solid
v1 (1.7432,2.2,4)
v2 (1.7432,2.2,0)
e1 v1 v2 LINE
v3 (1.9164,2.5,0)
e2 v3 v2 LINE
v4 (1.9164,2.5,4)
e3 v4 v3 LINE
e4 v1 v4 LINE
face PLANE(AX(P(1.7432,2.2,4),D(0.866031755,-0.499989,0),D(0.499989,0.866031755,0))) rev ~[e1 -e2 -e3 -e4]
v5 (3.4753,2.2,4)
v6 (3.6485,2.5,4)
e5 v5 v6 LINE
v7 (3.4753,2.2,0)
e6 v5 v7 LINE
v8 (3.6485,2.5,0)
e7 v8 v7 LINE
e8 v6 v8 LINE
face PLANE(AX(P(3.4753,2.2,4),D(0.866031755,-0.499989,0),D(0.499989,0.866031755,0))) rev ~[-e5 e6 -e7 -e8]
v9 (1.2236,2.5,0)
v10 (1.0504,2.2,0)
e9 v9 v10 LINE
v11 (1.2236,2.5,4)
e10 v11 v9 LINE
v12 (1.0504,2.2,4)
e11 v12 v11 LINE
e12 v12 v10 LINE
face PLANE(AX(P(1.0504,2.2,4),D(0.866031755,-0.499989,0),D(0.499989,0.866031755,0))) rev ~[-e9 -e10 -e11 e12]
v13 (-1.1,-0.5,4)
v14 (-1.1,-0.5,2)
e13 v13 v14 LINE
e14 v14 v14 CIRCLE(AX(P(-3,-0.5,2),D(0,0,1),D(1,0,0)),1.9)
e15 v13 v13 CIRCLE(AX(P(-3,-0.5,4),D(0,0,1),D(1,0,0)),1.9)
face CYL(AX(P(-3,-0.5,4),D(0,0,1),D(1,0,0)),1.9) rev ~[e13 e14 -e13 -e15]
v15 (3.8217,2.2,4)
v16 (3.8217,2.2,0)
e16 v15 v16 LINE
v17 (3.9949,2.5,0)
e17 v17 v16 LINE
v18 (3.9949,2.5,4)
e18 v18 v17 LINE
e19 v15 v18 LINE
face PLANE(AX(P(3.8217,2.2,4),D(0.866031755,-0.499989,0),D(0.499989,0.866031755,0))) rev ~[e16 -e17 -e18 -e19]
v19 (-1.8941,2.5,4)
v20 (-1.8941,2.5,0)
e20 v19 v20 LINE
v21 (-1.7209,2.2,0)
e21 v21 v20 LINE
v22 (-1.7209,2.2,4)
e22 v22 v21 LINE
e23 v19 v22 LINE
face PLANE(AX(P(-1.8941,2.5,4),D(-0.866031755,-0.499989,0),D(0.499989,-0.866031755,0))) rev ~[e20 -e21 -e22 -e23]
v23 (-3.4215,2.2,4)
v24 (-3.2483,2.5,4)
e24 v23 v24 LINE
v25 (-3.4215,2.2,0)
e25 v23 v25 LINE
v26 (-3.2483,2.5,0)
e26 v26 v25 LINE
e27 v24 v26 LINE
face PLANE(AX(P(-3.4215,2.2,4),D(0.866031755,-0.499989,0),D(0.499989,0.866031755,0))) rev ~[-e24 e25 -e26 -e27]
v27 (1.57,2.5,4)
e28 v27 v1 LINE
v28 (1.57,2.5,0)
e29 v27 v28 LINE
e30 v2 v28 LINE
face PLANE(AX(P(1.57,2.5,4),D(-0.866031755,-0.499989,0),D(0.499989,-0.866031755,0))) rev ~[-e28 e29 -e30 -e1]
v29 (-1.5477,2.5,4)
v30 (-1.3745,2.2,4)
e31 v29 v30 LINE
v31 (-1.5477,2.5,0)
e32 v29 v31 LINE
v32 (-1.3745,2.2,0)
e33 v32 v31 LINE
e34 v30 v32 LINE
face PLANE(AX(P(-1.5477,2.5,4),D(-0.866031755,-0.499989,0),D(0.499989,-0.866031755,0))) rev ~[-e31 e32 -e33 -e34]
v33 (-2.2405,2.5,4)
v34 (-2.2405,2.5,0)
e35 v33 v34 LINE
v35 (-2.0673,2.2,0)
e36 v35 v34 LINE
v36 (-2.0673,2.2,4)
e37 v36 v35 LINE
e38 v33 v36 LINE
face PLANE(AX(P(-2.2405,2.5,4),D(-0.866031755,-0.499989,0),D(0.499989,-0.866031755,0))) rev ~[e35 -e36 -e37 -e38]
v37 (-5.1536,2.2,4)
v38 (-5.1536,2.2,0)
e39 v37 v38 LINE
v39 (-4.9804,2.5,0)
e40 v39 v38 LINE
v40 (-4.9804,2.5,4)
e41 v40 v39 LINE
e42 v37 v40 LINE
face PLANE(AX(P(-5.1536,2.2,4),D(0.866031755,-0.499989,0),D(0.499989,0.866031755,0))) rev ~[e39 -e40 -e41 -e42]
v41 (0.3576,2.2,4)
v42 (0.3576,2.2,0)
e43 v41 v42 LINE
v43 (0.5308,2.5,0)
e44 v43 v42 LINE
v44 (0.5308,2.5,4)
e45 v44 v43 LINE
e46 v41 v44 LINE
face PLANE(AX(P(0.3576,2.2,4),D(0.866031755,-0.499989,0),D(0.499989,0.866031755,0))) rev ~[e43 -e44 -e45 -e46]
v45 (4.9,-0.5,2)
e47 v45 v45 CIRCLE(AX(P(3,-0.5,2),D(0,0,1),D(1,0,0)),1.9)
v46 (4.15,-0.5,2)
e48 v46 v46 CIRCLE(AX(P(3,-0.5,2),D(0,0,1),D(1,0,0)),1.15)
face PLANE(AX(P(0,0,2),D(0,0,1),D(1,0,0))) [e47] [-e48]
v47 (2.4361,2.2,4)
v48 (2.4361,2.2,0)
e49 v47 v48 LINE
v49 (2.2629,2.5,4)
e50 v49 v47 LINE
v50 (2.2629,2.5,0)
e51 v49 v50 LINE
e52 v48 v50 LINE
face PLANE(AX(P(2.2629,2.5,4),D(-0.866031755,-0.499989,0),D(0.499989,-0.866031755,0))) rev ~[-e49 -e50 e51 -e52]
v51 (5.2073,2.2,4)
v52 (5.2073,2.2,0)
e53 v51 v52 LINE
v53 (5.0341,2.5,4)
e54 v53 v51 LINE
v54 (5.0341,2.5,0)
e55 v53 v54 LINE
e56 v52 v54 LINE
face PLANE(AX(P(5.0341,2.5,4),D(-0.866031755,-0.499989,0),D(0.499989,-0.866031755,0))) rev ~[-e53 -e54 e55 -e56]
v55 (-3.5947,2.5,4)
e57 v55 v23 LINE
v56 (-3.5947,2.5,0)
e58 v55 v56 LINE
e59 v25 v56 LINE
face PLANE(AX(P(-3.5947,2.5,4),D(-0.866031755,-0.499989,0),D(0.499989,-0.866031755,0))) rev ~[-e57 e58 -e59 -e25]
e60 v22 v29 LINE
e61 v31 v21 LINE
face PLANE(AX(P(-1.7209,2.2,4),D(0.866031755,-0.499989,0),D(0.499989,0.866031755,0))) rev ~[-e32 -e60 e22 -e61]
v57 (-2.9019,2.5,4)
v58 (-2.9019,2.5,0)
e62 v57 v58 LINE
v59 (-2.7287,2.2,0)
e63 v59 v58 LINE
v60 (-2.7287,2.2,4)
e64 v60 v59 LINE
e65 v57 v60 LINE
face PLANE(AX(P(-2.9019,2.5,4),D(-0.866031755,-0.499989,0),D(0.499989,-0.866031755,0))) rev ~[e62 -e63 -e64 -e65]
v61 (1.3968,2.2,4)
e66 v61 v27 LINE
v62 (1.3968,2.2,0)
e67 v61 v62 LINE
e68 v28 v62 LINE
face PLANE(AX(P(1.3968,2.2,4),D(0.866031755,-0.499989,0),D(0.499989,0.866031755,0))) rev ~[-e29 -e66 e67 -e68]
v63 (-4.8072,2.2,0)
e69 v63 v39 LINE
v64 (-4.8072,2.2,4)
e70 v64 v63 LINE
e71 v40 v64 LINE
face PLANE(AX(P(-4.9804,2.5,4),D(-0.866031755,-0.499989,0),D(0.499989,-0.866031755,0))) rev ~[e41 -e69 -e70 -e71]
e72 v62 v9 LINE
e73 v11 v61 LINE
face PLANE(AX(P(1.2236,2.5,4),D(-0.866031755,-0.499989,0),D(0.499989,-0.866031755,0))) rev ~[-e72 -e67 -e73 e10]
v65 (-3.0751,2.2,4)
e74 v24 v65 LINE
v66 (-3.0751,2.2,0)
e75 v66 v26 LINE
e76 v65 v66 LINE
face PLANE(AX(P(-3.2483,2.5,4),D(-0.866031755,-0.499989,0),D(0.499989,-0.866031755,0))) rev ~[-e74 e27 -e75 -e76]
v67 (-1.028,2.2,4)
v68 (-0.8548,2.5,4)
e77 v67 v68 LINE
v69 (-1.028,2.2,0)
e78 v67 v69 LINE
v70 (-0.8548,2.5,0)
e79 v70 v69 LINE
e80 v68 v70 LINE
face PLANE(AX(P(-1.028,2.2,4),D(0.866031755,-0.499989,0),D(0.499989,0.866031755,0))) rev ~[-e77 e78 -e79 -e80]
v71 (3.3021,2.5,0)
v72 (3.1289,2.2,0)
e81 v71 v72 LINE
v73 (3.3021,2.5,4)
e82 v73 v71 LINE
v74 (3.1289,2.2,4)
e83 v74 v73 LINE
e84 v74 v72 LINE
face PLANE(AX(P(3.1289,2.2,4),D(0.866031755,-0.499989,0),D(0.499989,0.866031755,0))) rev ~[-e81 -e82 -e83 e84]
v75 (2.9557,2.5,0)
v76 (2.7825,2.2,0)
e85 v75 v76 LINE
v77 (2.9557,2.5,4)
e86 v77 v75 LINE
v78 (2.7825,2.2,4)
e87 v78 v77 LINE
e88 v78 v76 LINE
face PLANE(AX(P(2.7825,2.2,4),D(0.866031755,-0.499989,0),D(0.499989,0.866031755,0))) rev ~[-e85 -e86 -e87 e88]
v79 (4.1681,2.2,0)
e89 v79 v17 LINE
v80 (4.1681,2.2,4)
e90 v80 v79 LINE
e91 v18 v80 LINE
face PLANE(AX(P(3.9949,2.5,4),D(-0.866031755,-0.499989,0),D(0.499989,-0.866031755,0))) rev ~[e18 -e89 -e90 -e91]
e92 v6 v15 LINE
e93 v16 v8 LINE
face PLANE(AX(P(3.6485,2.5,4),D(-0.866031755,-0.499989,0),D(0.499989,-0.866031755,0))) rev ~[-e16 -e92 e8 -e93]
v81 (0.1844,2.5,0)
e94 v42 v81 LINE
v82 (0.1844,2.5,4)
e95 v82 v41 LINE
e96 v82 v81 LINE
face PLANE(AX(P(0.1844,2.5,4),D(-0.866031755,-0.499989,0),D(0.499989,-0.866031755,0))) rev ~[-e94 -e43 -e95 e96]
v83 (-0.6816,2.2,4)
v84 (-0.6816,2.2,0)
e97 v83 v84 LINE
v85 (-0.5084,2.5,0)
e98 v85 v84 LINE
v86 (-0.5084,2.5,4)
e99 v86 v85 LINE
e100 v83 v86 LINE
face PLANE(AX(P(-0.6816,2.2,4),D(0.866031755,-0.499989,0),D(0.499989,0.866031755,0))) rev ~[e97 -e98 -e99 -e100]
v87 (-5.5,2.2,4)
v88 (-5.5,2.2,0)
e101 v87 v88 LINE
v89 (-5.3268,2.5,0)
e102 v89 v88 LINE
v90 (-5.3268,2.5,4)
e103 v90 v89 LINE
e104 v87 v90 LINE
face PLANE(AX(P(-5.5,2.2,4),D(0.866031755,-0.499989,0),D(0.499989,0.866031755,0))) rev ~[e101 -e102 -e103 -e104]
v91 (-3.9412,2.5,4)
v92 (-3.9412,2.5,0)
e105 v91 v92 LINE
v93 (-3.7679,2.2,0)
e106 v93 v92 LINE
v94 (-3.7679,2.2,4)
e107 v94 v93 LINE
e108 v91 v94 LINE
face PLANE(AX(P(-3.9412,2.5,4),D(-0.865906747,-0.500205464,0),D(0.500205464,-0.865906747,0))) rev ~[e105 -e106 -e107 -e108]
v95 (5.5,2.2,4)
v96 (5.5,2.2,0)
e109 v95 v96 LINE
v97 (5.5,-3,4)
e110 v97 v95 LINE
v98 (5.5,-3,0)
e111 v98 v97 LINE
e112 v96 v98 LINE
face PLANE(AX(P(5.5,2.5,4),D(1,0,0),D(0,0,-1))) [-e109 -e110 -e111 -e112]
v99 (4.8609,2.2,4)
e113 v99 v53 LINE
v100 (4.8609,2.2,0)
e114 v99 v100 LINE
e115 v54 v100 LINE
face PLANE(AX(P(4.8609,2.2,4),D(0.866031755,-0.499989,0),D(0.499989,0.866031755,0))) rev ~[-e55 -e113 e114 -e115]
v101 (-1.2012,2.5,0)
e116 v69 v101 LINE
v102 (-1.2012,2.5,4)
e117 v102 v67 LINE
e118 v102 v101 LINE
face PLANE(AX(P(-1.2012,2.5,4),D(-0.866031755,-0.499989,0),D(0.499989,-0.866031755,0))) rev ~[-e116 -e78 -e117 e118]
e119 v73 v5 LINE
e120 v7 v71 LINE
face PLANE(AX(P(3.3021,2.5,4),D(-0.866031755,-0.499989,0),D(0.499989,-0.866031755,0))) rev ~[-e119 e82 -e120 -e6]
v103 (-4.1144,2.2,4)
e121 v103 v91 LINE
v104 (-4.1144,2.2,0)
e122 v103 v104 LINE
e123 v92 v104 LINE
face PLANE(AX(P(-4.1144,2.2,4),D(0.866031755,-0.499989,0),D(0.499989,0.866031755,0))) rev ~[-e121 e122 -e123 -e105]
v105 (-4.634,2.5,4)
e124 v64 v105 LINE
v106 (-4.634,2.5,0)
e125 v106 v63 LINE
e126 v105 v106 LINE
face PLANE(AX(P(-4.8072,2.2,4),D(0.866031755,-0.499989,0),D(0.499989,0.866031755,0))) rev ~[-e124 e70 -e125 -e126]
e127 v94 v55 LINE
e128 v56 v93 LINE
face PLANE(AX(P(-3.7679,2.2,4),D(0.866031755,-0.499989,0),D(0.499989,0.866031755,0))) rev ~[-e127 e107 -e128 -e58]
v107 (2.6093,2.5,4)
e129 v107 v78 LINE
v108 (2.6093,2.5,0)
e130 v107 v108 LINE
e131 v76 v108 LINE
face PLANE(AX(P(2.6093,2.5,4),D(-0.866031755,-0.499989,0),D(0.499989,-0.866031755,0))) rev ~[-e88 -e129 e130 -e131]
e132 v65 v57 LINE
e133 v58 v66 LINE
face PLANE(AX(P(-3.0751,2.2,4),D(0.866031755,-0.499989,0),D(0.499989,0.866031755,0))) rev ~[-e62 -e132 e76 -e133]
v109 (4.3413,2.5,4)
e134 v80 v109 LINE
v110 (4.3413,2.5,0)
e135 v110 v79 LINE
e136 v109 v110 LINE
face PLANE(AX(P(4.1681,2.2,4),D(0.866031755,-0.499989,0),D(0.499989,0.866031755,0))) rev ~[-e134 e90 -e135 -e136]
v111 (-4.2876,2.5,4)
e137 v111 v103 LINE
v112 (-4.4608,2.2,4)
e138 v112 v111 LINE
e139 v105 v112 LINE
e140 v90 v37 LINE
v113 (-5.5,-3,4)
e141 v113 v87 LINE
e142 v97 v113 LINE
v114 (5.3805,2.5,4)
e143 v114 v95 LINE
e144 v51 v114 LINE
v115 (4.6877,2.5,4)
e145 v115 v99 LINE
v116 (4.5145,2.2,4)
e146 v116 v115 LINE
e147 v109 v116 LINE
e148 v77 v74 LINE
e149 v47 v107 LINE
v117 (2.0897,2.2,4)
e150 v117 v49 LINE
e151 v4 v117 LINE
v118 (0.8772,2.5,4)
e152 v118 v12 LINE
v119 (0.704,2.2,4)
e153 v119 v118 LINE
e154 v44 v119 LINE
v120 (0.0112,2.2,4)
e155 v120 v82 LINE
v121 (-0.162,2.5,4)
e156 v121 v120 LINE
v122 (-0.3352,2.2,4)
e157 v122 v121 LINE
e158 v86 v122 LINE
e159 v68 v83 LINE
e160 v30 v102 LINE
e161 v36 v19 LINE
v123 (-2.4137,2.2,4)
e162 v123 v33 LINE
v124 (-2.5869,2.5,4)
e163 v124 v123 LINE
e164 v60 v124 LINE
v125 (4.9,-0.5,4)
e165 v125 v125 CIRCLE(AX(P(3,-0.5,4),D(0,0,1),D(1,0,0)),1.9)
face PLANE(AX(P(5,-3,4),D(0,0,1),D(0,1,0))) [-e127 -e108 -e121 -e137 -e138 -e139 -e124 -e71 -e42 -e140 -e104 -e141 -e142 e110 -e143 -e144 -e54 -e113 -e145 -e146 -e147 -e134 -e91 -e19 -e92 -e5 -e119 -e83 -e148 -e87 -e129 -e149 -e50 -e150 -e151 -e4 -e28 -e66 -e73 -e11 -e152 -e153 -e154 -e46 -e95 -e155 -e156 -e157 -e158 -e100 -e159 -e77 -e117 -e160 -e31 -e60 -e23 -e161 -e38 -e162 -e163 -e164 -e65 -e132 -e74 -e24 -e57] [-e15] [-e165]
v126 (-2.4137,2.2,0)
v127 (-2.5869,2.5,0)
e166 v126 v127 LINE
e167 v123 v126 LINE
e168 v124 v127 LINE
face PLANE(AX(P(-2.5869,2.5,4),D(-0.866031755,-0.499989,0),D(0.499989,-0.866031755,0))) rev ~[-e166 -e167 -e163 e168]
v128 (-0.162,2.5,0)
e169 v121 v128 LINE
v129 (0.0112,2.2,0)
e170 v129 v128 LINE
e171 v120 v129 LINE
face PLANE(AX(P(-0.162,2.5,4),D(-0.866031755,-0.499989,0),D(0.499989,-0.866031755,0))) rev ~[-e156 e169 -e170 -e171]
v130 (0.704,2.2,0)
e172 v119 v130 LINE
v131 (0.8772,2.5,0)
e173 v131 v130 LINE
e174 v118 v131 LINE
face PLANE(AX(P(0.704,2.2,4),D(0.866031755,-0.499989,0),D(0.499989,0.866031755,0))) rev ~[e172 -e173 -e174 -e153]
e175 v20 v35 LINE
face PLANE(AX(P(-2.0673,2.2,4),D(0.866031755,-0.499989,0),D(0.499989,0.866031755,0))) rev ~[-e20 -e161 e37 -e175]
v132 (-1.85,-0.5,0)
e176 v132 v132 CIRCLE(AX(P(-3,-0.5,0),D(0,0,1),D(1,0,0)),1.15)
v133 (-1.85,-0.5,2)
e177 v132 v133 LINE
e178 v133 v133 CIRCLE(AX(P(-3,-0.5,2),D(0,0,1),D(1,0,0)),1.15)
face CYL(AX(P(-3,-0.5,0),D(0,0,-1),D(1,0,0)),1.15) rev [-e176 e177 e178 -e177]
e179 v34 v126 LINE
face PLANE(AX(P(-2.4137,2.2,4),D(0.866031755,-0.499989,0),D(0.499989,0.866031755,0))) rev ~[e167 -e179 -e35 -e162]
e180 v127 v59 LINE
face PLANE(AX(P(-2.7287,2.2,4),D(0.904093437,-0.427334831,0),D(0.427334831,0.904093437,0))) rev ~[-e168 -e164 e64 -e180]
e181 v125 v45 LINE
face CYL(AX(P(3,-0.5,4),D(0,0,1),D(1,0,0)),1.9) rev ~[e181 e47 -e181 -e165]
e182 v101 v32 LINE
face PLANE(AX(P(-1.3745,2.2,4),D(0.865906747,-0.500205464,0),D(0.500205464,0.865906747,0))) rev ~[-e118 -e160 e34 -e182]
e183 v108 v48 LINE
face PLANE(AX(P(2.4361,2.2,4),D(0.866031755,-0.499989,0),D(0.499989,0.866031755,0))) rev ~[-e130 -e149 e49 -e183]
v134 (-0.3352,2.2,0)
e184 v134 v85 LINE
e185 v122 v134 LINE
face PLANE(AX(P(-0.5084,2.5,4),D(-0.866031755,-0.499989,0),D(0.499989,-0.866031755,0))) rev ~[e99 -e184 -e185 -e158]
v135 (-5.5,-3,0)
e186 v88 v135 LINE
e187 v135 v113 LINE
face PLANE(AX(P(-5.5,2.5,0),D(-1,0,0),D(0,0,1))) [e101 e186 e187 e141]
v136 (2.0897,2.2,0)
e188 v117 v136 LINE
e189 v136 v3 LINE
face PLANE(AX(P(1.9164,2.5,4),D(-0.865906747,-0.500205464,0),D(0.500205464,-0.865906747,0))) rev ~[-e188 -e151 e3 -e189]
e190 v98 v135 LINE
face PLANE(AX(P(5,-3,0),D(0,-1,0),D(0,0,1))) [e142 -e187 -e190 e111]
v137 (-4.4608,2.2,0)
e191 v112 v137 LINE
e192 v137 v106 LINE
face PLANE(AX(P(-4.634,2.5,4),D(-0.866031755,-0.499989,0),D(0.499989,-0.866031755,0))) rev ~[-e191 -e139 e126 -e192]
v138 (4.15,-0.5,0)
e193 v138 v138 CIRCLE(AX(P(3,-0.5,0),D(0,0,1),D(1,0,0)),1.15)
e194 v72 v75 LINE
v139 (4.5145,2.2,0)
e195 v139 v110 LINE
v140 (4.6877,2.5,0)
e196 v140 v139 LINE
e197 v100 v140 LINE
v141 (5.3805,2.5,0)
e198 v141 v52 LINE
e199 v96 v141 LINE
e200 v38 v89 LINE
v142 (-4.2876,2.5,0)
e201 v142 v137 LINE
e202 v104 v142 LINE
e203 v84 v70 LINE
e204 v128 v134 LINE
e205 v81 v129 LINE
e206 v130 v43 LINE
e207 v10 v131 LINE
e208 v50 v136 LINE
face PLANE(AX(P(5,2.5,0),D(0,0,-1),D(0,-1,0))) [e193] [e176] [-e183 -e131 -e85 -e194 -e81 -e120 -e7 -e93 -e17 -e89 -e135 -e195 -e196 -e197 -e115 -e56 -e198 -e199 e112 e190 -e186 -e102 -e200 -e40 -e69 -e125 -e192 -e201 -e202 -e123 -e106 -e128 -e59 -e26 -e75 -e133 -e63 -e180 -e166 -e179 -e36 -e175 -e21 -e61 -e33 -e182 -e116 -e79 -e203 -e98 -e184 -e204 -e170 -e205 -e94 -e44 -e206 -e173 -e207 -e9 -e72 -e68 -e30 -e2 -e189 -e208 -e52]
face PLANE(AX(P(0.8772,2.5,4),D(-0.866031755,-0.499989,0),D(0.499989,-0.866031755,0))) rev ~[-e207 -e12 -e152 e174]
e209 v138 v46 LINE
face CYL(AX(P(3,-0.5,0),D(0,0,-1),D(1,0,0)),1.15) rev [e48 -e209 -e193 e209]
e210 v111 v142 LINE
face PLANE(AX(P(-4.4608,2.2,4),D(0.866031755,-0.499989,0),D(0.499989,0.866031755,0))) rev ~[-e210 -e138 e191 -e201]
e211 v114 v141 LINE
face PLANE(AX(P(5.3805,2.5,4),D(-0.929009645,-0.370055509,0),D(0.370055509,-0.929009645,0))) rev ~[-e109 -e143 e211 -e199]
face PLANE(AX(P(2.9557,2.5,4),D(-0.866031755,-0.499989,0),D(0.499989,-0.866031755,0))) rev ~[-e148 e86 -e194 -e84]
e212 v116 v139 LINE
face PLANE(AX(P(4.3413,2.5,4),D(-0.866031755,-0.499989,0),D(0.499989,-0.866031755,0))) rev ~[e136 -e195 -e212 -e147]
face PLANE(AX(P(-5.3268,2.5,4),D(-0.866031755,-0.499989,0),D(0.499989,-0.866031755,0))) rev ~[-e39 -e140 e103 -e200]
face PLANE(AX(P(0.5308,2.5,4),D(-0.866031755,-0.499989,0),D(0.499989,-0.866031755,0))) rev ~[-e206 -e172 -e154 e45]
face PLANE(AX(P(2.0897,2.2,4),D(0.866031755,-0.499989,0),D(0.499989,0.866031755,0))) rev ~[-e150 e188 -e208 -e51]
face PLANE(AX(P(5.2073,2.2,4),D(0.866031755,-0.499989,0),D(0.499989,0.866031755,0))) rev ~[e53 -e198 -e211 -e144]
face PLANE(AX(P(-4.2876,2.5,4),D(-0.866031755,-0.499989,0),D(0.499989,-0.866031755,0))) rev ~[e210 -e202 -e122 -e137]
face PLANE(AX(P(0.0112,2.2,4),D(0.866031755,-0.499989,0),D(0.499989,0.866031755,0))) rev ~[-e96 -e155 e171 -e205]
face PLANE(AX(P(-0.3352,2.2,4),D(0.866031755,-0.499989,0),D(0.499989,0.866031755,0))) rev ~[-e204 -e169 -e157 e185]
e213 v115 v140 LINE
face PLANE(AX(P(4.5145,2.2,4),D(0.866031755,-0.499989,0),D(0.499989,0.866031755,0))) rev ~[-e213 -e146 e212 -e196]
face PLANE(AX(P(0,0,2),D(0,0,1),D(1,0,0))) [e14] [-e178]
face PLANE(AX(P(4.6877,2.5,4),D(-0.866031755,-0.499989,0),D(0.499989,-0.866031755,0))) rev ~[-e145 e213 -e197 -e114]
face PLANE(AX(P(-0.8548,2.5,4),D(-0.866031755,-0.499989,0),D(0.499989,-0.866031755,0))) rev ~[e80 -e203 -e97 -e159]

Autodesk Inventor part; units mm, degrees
ref_plane "YZ Plane" through (0, 0, 0) normal (1, 0, 0) x (0, 1, 0)
ref_plane "XZ Plane" through (0, 0, 0) normal (0, 1, 0) x (-1, 0, 0)
ref_plane "XY Plane" through (0, 0, 0) normal (0, 0, 1) x (1, 0, 0)
sketch "スケッチ1" plane through (0, 0, 0) normal (0, 0, 1) x (1, 0, 0)
  line L0 (5, -2.5) -> (-5, -2.5)
  line L1 (-5, -2.5) -> (-5, 2.5)
  line L2 (-5, 2.5) -> (5, 2.5)
  line L3 (5, 2.5) -> (5, -2.5)
  line L4 (5, -2.5) -> (-5, 2.5) construction
  line L5 (-5, -2.5) -> (5, 2.5) construction
  circle A0 centre (-3, -0.5) radius 1.15
  circle A1 centre (3, -0.5) radius 1.15
  point P0 (0, 0)
  dimension "d0" = 10
  dimension "d1" = 5
  dimension "d2" = 2.3
  dimension "d3" = 2.3
extrude "押し出し1" add sketch "スケッチ1" along normal blind 4
sketch "スケッチ2" plane through (0, 0, 4) normal (0, 0, 1) x (1, 0, 0)
  circle A0 centre (-3, -0.5) radius 1.15 projected
  circle A1 centre (-3, -0.5) radius 1.9
  circle A2 centre (3, -0.5) radius 1.15 projected
  circle A3 centre (3, -0.5) radius 1.9
  point P0 (0, 0)
  dimension "d6" = 3.8
  dimension "d7" = 3.8
extrude "押し出し2" cut sketch "スケッチ2" against normal blind 2
sketch "スケッチ3" plane through (-5, -2.5, 0) normal (0, -1, 0) x (1, 0, 0)
  line L0 (10, 0) -> (0, 0) projected
  line L1 (0, 0) -> (10, 0)
  line L2 (10, 0) -> (10, 4)
  line L3 (10, 4) -> (0, 4)
  line L4 (0, 4) -> (0, 0)
  point P0 (5, 0)
extrude "押し出し3" add sketch "スケッチ3" along normal blind 0.5
sketch "スケッチ4" plane through (-5, 2.5, 0) normal (-1, 0, 0) x (0, 0, 1)
  line L0 (0, 0) -> (0, -5.5) projected
  line L1 (0, 0) -> (4, 0) projected
  line L2 (0, -5.5) -> (4, -5.5)
  line L3 (4, -5.5) -> (4, 0)
  line L4 (4, 0) -> (0, 0)
  line L5 (0, 0) -> (0, -5.5)
  point P0 (0, -2.5)
extrude "押し出し4" add sketch "スケッチ4" along normal blind 0.5
sketch "スケッチ5" plane through (5, 2.5, 4) normal (1, 0, 0) x (0, 0, -1)
  line L0 (4, 0) -> (4, -5.5) projected
  line L1 (4, 0) -> (0, 0) projected
  line L2 (4, -5.5) -> (0, -5.5)
  line L3 (0, -5.5) -> (0, 0)
  line L4 (0, 0) -> (4, 0)
  line L5 (4, 0) -> (4, -5.5)
  point P0 (4, -2.5)
extrude "押し出し5" add sketch "スケッチ5" along normal blind 0.5
sketch "スケッチ6" plane through (0, 0, 4) normal (0, 0, 1) x (1, 0, 0)
  line L0 (-5.5, 2.5) -> (5.5, 2.5) projected
  line L1 (-5.5, 2.5) -> (5.5, 2.5)
  line L2 (5.5, 2.5) -> (5.5, -3) projected
  line L3 (5.5, 2.5) -> (5.5, 2.2)
  line L4 (5.5, 2.2) -> (-5.5, 2.2)
  line L5 (-5.5, -3) -> (-5.5, 2.5) projected
  line L6 (-5.5, 2.2) -> (-5.5, 2.5)
  line L7 (-5.5, 2.2) -> (-5.3268, 2.5)
  line L8 (-5.5, 2.2) -> (-5.1536, 2.2) construction
  line L9 (-5.3268, 2.5) -> (-5.1536, 2.2)
  line L10 (-5.1536, 2.2) -> (-4.9804, 2.5)
  line L11 (-4.9804, 2.5) -> (-4.8072, 2.2)
  line L12 (-4.8072, 2.2) -> (-4.634, 2.5)
  line L13 (-4.634, 2.5) -> (-4.4608, 2.2)
  line L14 (-4.4608, 2.2) -> (-4.2876, 2.5)
  line L15 (-4.2876, 2.5) -> (-4.1144, 2.2)
  line L16 (-4.1144, 2.2) -> (-3.9412, 2.5)
  line L17 (-3.9412, 2.5) -> (-3.7679, 2.2)
  line L18 (-3.7679, 2.2) -> (-3.5947, 2.5)
  line L19 (-3.5947, 2.5) -> (-3.4215, 2.2)
  line L20 (-3.4215, 2.2) -> (-3.2483, 2.5)
  line L21 (-3.2483, 2.5) -> (-3.0751, 2.2)
  line L22 (-3.0751, 2.2) -> (-2.9019, 2.5)
  line L23 (-2.9019, 2.5) -> (-2.7287, 2.2)
  line L24 (-2.7287, 2.2) -> (-2.5869, 2.5)
  line L25 (-2.5869, 2.5) -> (-2.4137, 2.2)
  line L26 (-2.4137, 2.2) -> (-2.2405, 2.5)
  line L27 (-2.2405, 2.5) -> (-2.0673, 2.2)
  line L28 (-2.0673, 2.2) -> (-1.8941, 2.5)
  line L29 (-1.8941, 2.5) -> (-1.7209, 2.2)
  line L30 (-1.7209, 2.2) -> (-1.5477, 2.5)
  line L31 (-1.5477, 2.5) -> (-1.3745, 2.2)
  line L32 (-1.3745, 2.2) -> (-1.2012, 2.5)
  line L33 (-1.2012, 2.5) -> (-1.028, 2.2)
  line L34 (-1.028, 2.2) -> (-0.8548, 2.5)
  line L35 (-0.8548, 2.5) -> (-0.6816, 2.2)
  line L36 (-0.6816, 2.2) -> (-0.5084, 2.5)
  line L37 (-0.5084, 2.5) -> (-0.3352, 2.2)
  line L38 (-0.3352, 2.2) -> (-0.162, 2.5)
  line L39 (-0.162, 2.5) -> (0.0112, 2.2)
  line L40 (0.0112, 2.2) -> (0.1844, 2.5)
  line L41 (0.1844, 2.5) -> (0.3576, 2.2)
  line L42 (0.3576, 2.2) -> (0.5308, 2.5)
  line L43 (0.5308, 2.5) -> (0.704, 2.2)
  line L44 (0.704, 2.2) -> (0.8772, 2.5)
  line L45 (0.8772, 2.5) -> (1.0504, 2.2)
  line L46 (1.0504, 2.2) -> (1.2236, 2.5)
  line L47 (1.2236, 2.5) -> (1.3968, 2.2)
  line L48 (1.3968, 2.2) -> (1.57, 2.5)
  line L49 (1.57, 2.5) -> (1.7432, 2.2)
  line L50 (1.7432, 2.2) -> (1.9164, 2.5)
  line L51 (1.9164, 2.5) -> (2.0897, 2.2)
  line L52 (2.0897, 2.2) -> (2.2629, 2.5)
  line L53 (2.2629, 2.5) -> (2.4361, 2.2)
  line L54 (2.4361, 2.2) -> (2.6093, 2.5)
  line L55 (2.6093, 2.5) -> (2.7825, 2.2)
  line L56 (2.7825, 2.2) -> (2.9557, 2.5)
  line L57 (2.9557, 2.5) -> (3.1289, 2.2)
  line L58 (3.1289, 2.2) -> (3.3021, 2.5)
  line L59 (3.3021, 2.5) -> (3.4753, 2.2)
  line L60 (3.4753, 2.2) -> (3.6485, 2.5)
  line L61 (3.6485, 2.5) -> (3.8217, 2.2)
  line L62 (3.8217, 2.2) -> (3.9949, 2.5)
  line L63 (3.9949, 2.5) -> (4.1681, 2.2)
  line L64 (4.1681, 2.2) -> (4.3413, 2.5)
  line L65 (4.3413, 2.5) -> (4.5145, 2.2)
  line L66 (4.5145, 2.2) -> (4.6877, 2.5)
  line L67 (4.6877, 2.5) -> (4.8609, 2.2)
  line L68 (4.8609, 2.2) -> (5.0341, 2.5)
  line L69 (5.0341, 2.5) -> (5.2073, 2.2)
  line L70 (5.2073, 2.2) -> (5.3805, 2.5)
  line L71 (5.3805, 2.5) -> (5.5, 2.2)
  point P0 (0, 0)
  dimension "d16" = 0.3
  dimension "d17" = 60
extrude "押し出し6" cut sketch "スケッチ6" against normal blind 10 contours L0 L7 L5 | L0 L10 L9 | L0 L12 L11 | L0 L14 L13 | L0 L16 L15 | L0 L18 L17 | L0 L20 L19 | L0 L22 L21 | L0 L24 L23 | L0 L26 L25 | L0 L28 L27 | L0 L30 L29 | L0 L32 L31 | L0 L34 L33 | L0 L36 L35 | L0 L38 L37 | L0 L40 L39 | L0 L42 L41 | L0 L44 L43 | L0 L46 L45 | L0 L48 L47 | L0 L50 L49 | L0 L52 L51 | L0 L54 L53 | L0 L56 L55 | L0 L58 L57 | L0 L60 L59 | L0 L62 L61 | L0 L64 L63 | L0 L66 L65 | L0 L68 L67 | L0 L70 L69 | L0 L2 L71
properties part number "gripping_base" material "ゴム、黒"
